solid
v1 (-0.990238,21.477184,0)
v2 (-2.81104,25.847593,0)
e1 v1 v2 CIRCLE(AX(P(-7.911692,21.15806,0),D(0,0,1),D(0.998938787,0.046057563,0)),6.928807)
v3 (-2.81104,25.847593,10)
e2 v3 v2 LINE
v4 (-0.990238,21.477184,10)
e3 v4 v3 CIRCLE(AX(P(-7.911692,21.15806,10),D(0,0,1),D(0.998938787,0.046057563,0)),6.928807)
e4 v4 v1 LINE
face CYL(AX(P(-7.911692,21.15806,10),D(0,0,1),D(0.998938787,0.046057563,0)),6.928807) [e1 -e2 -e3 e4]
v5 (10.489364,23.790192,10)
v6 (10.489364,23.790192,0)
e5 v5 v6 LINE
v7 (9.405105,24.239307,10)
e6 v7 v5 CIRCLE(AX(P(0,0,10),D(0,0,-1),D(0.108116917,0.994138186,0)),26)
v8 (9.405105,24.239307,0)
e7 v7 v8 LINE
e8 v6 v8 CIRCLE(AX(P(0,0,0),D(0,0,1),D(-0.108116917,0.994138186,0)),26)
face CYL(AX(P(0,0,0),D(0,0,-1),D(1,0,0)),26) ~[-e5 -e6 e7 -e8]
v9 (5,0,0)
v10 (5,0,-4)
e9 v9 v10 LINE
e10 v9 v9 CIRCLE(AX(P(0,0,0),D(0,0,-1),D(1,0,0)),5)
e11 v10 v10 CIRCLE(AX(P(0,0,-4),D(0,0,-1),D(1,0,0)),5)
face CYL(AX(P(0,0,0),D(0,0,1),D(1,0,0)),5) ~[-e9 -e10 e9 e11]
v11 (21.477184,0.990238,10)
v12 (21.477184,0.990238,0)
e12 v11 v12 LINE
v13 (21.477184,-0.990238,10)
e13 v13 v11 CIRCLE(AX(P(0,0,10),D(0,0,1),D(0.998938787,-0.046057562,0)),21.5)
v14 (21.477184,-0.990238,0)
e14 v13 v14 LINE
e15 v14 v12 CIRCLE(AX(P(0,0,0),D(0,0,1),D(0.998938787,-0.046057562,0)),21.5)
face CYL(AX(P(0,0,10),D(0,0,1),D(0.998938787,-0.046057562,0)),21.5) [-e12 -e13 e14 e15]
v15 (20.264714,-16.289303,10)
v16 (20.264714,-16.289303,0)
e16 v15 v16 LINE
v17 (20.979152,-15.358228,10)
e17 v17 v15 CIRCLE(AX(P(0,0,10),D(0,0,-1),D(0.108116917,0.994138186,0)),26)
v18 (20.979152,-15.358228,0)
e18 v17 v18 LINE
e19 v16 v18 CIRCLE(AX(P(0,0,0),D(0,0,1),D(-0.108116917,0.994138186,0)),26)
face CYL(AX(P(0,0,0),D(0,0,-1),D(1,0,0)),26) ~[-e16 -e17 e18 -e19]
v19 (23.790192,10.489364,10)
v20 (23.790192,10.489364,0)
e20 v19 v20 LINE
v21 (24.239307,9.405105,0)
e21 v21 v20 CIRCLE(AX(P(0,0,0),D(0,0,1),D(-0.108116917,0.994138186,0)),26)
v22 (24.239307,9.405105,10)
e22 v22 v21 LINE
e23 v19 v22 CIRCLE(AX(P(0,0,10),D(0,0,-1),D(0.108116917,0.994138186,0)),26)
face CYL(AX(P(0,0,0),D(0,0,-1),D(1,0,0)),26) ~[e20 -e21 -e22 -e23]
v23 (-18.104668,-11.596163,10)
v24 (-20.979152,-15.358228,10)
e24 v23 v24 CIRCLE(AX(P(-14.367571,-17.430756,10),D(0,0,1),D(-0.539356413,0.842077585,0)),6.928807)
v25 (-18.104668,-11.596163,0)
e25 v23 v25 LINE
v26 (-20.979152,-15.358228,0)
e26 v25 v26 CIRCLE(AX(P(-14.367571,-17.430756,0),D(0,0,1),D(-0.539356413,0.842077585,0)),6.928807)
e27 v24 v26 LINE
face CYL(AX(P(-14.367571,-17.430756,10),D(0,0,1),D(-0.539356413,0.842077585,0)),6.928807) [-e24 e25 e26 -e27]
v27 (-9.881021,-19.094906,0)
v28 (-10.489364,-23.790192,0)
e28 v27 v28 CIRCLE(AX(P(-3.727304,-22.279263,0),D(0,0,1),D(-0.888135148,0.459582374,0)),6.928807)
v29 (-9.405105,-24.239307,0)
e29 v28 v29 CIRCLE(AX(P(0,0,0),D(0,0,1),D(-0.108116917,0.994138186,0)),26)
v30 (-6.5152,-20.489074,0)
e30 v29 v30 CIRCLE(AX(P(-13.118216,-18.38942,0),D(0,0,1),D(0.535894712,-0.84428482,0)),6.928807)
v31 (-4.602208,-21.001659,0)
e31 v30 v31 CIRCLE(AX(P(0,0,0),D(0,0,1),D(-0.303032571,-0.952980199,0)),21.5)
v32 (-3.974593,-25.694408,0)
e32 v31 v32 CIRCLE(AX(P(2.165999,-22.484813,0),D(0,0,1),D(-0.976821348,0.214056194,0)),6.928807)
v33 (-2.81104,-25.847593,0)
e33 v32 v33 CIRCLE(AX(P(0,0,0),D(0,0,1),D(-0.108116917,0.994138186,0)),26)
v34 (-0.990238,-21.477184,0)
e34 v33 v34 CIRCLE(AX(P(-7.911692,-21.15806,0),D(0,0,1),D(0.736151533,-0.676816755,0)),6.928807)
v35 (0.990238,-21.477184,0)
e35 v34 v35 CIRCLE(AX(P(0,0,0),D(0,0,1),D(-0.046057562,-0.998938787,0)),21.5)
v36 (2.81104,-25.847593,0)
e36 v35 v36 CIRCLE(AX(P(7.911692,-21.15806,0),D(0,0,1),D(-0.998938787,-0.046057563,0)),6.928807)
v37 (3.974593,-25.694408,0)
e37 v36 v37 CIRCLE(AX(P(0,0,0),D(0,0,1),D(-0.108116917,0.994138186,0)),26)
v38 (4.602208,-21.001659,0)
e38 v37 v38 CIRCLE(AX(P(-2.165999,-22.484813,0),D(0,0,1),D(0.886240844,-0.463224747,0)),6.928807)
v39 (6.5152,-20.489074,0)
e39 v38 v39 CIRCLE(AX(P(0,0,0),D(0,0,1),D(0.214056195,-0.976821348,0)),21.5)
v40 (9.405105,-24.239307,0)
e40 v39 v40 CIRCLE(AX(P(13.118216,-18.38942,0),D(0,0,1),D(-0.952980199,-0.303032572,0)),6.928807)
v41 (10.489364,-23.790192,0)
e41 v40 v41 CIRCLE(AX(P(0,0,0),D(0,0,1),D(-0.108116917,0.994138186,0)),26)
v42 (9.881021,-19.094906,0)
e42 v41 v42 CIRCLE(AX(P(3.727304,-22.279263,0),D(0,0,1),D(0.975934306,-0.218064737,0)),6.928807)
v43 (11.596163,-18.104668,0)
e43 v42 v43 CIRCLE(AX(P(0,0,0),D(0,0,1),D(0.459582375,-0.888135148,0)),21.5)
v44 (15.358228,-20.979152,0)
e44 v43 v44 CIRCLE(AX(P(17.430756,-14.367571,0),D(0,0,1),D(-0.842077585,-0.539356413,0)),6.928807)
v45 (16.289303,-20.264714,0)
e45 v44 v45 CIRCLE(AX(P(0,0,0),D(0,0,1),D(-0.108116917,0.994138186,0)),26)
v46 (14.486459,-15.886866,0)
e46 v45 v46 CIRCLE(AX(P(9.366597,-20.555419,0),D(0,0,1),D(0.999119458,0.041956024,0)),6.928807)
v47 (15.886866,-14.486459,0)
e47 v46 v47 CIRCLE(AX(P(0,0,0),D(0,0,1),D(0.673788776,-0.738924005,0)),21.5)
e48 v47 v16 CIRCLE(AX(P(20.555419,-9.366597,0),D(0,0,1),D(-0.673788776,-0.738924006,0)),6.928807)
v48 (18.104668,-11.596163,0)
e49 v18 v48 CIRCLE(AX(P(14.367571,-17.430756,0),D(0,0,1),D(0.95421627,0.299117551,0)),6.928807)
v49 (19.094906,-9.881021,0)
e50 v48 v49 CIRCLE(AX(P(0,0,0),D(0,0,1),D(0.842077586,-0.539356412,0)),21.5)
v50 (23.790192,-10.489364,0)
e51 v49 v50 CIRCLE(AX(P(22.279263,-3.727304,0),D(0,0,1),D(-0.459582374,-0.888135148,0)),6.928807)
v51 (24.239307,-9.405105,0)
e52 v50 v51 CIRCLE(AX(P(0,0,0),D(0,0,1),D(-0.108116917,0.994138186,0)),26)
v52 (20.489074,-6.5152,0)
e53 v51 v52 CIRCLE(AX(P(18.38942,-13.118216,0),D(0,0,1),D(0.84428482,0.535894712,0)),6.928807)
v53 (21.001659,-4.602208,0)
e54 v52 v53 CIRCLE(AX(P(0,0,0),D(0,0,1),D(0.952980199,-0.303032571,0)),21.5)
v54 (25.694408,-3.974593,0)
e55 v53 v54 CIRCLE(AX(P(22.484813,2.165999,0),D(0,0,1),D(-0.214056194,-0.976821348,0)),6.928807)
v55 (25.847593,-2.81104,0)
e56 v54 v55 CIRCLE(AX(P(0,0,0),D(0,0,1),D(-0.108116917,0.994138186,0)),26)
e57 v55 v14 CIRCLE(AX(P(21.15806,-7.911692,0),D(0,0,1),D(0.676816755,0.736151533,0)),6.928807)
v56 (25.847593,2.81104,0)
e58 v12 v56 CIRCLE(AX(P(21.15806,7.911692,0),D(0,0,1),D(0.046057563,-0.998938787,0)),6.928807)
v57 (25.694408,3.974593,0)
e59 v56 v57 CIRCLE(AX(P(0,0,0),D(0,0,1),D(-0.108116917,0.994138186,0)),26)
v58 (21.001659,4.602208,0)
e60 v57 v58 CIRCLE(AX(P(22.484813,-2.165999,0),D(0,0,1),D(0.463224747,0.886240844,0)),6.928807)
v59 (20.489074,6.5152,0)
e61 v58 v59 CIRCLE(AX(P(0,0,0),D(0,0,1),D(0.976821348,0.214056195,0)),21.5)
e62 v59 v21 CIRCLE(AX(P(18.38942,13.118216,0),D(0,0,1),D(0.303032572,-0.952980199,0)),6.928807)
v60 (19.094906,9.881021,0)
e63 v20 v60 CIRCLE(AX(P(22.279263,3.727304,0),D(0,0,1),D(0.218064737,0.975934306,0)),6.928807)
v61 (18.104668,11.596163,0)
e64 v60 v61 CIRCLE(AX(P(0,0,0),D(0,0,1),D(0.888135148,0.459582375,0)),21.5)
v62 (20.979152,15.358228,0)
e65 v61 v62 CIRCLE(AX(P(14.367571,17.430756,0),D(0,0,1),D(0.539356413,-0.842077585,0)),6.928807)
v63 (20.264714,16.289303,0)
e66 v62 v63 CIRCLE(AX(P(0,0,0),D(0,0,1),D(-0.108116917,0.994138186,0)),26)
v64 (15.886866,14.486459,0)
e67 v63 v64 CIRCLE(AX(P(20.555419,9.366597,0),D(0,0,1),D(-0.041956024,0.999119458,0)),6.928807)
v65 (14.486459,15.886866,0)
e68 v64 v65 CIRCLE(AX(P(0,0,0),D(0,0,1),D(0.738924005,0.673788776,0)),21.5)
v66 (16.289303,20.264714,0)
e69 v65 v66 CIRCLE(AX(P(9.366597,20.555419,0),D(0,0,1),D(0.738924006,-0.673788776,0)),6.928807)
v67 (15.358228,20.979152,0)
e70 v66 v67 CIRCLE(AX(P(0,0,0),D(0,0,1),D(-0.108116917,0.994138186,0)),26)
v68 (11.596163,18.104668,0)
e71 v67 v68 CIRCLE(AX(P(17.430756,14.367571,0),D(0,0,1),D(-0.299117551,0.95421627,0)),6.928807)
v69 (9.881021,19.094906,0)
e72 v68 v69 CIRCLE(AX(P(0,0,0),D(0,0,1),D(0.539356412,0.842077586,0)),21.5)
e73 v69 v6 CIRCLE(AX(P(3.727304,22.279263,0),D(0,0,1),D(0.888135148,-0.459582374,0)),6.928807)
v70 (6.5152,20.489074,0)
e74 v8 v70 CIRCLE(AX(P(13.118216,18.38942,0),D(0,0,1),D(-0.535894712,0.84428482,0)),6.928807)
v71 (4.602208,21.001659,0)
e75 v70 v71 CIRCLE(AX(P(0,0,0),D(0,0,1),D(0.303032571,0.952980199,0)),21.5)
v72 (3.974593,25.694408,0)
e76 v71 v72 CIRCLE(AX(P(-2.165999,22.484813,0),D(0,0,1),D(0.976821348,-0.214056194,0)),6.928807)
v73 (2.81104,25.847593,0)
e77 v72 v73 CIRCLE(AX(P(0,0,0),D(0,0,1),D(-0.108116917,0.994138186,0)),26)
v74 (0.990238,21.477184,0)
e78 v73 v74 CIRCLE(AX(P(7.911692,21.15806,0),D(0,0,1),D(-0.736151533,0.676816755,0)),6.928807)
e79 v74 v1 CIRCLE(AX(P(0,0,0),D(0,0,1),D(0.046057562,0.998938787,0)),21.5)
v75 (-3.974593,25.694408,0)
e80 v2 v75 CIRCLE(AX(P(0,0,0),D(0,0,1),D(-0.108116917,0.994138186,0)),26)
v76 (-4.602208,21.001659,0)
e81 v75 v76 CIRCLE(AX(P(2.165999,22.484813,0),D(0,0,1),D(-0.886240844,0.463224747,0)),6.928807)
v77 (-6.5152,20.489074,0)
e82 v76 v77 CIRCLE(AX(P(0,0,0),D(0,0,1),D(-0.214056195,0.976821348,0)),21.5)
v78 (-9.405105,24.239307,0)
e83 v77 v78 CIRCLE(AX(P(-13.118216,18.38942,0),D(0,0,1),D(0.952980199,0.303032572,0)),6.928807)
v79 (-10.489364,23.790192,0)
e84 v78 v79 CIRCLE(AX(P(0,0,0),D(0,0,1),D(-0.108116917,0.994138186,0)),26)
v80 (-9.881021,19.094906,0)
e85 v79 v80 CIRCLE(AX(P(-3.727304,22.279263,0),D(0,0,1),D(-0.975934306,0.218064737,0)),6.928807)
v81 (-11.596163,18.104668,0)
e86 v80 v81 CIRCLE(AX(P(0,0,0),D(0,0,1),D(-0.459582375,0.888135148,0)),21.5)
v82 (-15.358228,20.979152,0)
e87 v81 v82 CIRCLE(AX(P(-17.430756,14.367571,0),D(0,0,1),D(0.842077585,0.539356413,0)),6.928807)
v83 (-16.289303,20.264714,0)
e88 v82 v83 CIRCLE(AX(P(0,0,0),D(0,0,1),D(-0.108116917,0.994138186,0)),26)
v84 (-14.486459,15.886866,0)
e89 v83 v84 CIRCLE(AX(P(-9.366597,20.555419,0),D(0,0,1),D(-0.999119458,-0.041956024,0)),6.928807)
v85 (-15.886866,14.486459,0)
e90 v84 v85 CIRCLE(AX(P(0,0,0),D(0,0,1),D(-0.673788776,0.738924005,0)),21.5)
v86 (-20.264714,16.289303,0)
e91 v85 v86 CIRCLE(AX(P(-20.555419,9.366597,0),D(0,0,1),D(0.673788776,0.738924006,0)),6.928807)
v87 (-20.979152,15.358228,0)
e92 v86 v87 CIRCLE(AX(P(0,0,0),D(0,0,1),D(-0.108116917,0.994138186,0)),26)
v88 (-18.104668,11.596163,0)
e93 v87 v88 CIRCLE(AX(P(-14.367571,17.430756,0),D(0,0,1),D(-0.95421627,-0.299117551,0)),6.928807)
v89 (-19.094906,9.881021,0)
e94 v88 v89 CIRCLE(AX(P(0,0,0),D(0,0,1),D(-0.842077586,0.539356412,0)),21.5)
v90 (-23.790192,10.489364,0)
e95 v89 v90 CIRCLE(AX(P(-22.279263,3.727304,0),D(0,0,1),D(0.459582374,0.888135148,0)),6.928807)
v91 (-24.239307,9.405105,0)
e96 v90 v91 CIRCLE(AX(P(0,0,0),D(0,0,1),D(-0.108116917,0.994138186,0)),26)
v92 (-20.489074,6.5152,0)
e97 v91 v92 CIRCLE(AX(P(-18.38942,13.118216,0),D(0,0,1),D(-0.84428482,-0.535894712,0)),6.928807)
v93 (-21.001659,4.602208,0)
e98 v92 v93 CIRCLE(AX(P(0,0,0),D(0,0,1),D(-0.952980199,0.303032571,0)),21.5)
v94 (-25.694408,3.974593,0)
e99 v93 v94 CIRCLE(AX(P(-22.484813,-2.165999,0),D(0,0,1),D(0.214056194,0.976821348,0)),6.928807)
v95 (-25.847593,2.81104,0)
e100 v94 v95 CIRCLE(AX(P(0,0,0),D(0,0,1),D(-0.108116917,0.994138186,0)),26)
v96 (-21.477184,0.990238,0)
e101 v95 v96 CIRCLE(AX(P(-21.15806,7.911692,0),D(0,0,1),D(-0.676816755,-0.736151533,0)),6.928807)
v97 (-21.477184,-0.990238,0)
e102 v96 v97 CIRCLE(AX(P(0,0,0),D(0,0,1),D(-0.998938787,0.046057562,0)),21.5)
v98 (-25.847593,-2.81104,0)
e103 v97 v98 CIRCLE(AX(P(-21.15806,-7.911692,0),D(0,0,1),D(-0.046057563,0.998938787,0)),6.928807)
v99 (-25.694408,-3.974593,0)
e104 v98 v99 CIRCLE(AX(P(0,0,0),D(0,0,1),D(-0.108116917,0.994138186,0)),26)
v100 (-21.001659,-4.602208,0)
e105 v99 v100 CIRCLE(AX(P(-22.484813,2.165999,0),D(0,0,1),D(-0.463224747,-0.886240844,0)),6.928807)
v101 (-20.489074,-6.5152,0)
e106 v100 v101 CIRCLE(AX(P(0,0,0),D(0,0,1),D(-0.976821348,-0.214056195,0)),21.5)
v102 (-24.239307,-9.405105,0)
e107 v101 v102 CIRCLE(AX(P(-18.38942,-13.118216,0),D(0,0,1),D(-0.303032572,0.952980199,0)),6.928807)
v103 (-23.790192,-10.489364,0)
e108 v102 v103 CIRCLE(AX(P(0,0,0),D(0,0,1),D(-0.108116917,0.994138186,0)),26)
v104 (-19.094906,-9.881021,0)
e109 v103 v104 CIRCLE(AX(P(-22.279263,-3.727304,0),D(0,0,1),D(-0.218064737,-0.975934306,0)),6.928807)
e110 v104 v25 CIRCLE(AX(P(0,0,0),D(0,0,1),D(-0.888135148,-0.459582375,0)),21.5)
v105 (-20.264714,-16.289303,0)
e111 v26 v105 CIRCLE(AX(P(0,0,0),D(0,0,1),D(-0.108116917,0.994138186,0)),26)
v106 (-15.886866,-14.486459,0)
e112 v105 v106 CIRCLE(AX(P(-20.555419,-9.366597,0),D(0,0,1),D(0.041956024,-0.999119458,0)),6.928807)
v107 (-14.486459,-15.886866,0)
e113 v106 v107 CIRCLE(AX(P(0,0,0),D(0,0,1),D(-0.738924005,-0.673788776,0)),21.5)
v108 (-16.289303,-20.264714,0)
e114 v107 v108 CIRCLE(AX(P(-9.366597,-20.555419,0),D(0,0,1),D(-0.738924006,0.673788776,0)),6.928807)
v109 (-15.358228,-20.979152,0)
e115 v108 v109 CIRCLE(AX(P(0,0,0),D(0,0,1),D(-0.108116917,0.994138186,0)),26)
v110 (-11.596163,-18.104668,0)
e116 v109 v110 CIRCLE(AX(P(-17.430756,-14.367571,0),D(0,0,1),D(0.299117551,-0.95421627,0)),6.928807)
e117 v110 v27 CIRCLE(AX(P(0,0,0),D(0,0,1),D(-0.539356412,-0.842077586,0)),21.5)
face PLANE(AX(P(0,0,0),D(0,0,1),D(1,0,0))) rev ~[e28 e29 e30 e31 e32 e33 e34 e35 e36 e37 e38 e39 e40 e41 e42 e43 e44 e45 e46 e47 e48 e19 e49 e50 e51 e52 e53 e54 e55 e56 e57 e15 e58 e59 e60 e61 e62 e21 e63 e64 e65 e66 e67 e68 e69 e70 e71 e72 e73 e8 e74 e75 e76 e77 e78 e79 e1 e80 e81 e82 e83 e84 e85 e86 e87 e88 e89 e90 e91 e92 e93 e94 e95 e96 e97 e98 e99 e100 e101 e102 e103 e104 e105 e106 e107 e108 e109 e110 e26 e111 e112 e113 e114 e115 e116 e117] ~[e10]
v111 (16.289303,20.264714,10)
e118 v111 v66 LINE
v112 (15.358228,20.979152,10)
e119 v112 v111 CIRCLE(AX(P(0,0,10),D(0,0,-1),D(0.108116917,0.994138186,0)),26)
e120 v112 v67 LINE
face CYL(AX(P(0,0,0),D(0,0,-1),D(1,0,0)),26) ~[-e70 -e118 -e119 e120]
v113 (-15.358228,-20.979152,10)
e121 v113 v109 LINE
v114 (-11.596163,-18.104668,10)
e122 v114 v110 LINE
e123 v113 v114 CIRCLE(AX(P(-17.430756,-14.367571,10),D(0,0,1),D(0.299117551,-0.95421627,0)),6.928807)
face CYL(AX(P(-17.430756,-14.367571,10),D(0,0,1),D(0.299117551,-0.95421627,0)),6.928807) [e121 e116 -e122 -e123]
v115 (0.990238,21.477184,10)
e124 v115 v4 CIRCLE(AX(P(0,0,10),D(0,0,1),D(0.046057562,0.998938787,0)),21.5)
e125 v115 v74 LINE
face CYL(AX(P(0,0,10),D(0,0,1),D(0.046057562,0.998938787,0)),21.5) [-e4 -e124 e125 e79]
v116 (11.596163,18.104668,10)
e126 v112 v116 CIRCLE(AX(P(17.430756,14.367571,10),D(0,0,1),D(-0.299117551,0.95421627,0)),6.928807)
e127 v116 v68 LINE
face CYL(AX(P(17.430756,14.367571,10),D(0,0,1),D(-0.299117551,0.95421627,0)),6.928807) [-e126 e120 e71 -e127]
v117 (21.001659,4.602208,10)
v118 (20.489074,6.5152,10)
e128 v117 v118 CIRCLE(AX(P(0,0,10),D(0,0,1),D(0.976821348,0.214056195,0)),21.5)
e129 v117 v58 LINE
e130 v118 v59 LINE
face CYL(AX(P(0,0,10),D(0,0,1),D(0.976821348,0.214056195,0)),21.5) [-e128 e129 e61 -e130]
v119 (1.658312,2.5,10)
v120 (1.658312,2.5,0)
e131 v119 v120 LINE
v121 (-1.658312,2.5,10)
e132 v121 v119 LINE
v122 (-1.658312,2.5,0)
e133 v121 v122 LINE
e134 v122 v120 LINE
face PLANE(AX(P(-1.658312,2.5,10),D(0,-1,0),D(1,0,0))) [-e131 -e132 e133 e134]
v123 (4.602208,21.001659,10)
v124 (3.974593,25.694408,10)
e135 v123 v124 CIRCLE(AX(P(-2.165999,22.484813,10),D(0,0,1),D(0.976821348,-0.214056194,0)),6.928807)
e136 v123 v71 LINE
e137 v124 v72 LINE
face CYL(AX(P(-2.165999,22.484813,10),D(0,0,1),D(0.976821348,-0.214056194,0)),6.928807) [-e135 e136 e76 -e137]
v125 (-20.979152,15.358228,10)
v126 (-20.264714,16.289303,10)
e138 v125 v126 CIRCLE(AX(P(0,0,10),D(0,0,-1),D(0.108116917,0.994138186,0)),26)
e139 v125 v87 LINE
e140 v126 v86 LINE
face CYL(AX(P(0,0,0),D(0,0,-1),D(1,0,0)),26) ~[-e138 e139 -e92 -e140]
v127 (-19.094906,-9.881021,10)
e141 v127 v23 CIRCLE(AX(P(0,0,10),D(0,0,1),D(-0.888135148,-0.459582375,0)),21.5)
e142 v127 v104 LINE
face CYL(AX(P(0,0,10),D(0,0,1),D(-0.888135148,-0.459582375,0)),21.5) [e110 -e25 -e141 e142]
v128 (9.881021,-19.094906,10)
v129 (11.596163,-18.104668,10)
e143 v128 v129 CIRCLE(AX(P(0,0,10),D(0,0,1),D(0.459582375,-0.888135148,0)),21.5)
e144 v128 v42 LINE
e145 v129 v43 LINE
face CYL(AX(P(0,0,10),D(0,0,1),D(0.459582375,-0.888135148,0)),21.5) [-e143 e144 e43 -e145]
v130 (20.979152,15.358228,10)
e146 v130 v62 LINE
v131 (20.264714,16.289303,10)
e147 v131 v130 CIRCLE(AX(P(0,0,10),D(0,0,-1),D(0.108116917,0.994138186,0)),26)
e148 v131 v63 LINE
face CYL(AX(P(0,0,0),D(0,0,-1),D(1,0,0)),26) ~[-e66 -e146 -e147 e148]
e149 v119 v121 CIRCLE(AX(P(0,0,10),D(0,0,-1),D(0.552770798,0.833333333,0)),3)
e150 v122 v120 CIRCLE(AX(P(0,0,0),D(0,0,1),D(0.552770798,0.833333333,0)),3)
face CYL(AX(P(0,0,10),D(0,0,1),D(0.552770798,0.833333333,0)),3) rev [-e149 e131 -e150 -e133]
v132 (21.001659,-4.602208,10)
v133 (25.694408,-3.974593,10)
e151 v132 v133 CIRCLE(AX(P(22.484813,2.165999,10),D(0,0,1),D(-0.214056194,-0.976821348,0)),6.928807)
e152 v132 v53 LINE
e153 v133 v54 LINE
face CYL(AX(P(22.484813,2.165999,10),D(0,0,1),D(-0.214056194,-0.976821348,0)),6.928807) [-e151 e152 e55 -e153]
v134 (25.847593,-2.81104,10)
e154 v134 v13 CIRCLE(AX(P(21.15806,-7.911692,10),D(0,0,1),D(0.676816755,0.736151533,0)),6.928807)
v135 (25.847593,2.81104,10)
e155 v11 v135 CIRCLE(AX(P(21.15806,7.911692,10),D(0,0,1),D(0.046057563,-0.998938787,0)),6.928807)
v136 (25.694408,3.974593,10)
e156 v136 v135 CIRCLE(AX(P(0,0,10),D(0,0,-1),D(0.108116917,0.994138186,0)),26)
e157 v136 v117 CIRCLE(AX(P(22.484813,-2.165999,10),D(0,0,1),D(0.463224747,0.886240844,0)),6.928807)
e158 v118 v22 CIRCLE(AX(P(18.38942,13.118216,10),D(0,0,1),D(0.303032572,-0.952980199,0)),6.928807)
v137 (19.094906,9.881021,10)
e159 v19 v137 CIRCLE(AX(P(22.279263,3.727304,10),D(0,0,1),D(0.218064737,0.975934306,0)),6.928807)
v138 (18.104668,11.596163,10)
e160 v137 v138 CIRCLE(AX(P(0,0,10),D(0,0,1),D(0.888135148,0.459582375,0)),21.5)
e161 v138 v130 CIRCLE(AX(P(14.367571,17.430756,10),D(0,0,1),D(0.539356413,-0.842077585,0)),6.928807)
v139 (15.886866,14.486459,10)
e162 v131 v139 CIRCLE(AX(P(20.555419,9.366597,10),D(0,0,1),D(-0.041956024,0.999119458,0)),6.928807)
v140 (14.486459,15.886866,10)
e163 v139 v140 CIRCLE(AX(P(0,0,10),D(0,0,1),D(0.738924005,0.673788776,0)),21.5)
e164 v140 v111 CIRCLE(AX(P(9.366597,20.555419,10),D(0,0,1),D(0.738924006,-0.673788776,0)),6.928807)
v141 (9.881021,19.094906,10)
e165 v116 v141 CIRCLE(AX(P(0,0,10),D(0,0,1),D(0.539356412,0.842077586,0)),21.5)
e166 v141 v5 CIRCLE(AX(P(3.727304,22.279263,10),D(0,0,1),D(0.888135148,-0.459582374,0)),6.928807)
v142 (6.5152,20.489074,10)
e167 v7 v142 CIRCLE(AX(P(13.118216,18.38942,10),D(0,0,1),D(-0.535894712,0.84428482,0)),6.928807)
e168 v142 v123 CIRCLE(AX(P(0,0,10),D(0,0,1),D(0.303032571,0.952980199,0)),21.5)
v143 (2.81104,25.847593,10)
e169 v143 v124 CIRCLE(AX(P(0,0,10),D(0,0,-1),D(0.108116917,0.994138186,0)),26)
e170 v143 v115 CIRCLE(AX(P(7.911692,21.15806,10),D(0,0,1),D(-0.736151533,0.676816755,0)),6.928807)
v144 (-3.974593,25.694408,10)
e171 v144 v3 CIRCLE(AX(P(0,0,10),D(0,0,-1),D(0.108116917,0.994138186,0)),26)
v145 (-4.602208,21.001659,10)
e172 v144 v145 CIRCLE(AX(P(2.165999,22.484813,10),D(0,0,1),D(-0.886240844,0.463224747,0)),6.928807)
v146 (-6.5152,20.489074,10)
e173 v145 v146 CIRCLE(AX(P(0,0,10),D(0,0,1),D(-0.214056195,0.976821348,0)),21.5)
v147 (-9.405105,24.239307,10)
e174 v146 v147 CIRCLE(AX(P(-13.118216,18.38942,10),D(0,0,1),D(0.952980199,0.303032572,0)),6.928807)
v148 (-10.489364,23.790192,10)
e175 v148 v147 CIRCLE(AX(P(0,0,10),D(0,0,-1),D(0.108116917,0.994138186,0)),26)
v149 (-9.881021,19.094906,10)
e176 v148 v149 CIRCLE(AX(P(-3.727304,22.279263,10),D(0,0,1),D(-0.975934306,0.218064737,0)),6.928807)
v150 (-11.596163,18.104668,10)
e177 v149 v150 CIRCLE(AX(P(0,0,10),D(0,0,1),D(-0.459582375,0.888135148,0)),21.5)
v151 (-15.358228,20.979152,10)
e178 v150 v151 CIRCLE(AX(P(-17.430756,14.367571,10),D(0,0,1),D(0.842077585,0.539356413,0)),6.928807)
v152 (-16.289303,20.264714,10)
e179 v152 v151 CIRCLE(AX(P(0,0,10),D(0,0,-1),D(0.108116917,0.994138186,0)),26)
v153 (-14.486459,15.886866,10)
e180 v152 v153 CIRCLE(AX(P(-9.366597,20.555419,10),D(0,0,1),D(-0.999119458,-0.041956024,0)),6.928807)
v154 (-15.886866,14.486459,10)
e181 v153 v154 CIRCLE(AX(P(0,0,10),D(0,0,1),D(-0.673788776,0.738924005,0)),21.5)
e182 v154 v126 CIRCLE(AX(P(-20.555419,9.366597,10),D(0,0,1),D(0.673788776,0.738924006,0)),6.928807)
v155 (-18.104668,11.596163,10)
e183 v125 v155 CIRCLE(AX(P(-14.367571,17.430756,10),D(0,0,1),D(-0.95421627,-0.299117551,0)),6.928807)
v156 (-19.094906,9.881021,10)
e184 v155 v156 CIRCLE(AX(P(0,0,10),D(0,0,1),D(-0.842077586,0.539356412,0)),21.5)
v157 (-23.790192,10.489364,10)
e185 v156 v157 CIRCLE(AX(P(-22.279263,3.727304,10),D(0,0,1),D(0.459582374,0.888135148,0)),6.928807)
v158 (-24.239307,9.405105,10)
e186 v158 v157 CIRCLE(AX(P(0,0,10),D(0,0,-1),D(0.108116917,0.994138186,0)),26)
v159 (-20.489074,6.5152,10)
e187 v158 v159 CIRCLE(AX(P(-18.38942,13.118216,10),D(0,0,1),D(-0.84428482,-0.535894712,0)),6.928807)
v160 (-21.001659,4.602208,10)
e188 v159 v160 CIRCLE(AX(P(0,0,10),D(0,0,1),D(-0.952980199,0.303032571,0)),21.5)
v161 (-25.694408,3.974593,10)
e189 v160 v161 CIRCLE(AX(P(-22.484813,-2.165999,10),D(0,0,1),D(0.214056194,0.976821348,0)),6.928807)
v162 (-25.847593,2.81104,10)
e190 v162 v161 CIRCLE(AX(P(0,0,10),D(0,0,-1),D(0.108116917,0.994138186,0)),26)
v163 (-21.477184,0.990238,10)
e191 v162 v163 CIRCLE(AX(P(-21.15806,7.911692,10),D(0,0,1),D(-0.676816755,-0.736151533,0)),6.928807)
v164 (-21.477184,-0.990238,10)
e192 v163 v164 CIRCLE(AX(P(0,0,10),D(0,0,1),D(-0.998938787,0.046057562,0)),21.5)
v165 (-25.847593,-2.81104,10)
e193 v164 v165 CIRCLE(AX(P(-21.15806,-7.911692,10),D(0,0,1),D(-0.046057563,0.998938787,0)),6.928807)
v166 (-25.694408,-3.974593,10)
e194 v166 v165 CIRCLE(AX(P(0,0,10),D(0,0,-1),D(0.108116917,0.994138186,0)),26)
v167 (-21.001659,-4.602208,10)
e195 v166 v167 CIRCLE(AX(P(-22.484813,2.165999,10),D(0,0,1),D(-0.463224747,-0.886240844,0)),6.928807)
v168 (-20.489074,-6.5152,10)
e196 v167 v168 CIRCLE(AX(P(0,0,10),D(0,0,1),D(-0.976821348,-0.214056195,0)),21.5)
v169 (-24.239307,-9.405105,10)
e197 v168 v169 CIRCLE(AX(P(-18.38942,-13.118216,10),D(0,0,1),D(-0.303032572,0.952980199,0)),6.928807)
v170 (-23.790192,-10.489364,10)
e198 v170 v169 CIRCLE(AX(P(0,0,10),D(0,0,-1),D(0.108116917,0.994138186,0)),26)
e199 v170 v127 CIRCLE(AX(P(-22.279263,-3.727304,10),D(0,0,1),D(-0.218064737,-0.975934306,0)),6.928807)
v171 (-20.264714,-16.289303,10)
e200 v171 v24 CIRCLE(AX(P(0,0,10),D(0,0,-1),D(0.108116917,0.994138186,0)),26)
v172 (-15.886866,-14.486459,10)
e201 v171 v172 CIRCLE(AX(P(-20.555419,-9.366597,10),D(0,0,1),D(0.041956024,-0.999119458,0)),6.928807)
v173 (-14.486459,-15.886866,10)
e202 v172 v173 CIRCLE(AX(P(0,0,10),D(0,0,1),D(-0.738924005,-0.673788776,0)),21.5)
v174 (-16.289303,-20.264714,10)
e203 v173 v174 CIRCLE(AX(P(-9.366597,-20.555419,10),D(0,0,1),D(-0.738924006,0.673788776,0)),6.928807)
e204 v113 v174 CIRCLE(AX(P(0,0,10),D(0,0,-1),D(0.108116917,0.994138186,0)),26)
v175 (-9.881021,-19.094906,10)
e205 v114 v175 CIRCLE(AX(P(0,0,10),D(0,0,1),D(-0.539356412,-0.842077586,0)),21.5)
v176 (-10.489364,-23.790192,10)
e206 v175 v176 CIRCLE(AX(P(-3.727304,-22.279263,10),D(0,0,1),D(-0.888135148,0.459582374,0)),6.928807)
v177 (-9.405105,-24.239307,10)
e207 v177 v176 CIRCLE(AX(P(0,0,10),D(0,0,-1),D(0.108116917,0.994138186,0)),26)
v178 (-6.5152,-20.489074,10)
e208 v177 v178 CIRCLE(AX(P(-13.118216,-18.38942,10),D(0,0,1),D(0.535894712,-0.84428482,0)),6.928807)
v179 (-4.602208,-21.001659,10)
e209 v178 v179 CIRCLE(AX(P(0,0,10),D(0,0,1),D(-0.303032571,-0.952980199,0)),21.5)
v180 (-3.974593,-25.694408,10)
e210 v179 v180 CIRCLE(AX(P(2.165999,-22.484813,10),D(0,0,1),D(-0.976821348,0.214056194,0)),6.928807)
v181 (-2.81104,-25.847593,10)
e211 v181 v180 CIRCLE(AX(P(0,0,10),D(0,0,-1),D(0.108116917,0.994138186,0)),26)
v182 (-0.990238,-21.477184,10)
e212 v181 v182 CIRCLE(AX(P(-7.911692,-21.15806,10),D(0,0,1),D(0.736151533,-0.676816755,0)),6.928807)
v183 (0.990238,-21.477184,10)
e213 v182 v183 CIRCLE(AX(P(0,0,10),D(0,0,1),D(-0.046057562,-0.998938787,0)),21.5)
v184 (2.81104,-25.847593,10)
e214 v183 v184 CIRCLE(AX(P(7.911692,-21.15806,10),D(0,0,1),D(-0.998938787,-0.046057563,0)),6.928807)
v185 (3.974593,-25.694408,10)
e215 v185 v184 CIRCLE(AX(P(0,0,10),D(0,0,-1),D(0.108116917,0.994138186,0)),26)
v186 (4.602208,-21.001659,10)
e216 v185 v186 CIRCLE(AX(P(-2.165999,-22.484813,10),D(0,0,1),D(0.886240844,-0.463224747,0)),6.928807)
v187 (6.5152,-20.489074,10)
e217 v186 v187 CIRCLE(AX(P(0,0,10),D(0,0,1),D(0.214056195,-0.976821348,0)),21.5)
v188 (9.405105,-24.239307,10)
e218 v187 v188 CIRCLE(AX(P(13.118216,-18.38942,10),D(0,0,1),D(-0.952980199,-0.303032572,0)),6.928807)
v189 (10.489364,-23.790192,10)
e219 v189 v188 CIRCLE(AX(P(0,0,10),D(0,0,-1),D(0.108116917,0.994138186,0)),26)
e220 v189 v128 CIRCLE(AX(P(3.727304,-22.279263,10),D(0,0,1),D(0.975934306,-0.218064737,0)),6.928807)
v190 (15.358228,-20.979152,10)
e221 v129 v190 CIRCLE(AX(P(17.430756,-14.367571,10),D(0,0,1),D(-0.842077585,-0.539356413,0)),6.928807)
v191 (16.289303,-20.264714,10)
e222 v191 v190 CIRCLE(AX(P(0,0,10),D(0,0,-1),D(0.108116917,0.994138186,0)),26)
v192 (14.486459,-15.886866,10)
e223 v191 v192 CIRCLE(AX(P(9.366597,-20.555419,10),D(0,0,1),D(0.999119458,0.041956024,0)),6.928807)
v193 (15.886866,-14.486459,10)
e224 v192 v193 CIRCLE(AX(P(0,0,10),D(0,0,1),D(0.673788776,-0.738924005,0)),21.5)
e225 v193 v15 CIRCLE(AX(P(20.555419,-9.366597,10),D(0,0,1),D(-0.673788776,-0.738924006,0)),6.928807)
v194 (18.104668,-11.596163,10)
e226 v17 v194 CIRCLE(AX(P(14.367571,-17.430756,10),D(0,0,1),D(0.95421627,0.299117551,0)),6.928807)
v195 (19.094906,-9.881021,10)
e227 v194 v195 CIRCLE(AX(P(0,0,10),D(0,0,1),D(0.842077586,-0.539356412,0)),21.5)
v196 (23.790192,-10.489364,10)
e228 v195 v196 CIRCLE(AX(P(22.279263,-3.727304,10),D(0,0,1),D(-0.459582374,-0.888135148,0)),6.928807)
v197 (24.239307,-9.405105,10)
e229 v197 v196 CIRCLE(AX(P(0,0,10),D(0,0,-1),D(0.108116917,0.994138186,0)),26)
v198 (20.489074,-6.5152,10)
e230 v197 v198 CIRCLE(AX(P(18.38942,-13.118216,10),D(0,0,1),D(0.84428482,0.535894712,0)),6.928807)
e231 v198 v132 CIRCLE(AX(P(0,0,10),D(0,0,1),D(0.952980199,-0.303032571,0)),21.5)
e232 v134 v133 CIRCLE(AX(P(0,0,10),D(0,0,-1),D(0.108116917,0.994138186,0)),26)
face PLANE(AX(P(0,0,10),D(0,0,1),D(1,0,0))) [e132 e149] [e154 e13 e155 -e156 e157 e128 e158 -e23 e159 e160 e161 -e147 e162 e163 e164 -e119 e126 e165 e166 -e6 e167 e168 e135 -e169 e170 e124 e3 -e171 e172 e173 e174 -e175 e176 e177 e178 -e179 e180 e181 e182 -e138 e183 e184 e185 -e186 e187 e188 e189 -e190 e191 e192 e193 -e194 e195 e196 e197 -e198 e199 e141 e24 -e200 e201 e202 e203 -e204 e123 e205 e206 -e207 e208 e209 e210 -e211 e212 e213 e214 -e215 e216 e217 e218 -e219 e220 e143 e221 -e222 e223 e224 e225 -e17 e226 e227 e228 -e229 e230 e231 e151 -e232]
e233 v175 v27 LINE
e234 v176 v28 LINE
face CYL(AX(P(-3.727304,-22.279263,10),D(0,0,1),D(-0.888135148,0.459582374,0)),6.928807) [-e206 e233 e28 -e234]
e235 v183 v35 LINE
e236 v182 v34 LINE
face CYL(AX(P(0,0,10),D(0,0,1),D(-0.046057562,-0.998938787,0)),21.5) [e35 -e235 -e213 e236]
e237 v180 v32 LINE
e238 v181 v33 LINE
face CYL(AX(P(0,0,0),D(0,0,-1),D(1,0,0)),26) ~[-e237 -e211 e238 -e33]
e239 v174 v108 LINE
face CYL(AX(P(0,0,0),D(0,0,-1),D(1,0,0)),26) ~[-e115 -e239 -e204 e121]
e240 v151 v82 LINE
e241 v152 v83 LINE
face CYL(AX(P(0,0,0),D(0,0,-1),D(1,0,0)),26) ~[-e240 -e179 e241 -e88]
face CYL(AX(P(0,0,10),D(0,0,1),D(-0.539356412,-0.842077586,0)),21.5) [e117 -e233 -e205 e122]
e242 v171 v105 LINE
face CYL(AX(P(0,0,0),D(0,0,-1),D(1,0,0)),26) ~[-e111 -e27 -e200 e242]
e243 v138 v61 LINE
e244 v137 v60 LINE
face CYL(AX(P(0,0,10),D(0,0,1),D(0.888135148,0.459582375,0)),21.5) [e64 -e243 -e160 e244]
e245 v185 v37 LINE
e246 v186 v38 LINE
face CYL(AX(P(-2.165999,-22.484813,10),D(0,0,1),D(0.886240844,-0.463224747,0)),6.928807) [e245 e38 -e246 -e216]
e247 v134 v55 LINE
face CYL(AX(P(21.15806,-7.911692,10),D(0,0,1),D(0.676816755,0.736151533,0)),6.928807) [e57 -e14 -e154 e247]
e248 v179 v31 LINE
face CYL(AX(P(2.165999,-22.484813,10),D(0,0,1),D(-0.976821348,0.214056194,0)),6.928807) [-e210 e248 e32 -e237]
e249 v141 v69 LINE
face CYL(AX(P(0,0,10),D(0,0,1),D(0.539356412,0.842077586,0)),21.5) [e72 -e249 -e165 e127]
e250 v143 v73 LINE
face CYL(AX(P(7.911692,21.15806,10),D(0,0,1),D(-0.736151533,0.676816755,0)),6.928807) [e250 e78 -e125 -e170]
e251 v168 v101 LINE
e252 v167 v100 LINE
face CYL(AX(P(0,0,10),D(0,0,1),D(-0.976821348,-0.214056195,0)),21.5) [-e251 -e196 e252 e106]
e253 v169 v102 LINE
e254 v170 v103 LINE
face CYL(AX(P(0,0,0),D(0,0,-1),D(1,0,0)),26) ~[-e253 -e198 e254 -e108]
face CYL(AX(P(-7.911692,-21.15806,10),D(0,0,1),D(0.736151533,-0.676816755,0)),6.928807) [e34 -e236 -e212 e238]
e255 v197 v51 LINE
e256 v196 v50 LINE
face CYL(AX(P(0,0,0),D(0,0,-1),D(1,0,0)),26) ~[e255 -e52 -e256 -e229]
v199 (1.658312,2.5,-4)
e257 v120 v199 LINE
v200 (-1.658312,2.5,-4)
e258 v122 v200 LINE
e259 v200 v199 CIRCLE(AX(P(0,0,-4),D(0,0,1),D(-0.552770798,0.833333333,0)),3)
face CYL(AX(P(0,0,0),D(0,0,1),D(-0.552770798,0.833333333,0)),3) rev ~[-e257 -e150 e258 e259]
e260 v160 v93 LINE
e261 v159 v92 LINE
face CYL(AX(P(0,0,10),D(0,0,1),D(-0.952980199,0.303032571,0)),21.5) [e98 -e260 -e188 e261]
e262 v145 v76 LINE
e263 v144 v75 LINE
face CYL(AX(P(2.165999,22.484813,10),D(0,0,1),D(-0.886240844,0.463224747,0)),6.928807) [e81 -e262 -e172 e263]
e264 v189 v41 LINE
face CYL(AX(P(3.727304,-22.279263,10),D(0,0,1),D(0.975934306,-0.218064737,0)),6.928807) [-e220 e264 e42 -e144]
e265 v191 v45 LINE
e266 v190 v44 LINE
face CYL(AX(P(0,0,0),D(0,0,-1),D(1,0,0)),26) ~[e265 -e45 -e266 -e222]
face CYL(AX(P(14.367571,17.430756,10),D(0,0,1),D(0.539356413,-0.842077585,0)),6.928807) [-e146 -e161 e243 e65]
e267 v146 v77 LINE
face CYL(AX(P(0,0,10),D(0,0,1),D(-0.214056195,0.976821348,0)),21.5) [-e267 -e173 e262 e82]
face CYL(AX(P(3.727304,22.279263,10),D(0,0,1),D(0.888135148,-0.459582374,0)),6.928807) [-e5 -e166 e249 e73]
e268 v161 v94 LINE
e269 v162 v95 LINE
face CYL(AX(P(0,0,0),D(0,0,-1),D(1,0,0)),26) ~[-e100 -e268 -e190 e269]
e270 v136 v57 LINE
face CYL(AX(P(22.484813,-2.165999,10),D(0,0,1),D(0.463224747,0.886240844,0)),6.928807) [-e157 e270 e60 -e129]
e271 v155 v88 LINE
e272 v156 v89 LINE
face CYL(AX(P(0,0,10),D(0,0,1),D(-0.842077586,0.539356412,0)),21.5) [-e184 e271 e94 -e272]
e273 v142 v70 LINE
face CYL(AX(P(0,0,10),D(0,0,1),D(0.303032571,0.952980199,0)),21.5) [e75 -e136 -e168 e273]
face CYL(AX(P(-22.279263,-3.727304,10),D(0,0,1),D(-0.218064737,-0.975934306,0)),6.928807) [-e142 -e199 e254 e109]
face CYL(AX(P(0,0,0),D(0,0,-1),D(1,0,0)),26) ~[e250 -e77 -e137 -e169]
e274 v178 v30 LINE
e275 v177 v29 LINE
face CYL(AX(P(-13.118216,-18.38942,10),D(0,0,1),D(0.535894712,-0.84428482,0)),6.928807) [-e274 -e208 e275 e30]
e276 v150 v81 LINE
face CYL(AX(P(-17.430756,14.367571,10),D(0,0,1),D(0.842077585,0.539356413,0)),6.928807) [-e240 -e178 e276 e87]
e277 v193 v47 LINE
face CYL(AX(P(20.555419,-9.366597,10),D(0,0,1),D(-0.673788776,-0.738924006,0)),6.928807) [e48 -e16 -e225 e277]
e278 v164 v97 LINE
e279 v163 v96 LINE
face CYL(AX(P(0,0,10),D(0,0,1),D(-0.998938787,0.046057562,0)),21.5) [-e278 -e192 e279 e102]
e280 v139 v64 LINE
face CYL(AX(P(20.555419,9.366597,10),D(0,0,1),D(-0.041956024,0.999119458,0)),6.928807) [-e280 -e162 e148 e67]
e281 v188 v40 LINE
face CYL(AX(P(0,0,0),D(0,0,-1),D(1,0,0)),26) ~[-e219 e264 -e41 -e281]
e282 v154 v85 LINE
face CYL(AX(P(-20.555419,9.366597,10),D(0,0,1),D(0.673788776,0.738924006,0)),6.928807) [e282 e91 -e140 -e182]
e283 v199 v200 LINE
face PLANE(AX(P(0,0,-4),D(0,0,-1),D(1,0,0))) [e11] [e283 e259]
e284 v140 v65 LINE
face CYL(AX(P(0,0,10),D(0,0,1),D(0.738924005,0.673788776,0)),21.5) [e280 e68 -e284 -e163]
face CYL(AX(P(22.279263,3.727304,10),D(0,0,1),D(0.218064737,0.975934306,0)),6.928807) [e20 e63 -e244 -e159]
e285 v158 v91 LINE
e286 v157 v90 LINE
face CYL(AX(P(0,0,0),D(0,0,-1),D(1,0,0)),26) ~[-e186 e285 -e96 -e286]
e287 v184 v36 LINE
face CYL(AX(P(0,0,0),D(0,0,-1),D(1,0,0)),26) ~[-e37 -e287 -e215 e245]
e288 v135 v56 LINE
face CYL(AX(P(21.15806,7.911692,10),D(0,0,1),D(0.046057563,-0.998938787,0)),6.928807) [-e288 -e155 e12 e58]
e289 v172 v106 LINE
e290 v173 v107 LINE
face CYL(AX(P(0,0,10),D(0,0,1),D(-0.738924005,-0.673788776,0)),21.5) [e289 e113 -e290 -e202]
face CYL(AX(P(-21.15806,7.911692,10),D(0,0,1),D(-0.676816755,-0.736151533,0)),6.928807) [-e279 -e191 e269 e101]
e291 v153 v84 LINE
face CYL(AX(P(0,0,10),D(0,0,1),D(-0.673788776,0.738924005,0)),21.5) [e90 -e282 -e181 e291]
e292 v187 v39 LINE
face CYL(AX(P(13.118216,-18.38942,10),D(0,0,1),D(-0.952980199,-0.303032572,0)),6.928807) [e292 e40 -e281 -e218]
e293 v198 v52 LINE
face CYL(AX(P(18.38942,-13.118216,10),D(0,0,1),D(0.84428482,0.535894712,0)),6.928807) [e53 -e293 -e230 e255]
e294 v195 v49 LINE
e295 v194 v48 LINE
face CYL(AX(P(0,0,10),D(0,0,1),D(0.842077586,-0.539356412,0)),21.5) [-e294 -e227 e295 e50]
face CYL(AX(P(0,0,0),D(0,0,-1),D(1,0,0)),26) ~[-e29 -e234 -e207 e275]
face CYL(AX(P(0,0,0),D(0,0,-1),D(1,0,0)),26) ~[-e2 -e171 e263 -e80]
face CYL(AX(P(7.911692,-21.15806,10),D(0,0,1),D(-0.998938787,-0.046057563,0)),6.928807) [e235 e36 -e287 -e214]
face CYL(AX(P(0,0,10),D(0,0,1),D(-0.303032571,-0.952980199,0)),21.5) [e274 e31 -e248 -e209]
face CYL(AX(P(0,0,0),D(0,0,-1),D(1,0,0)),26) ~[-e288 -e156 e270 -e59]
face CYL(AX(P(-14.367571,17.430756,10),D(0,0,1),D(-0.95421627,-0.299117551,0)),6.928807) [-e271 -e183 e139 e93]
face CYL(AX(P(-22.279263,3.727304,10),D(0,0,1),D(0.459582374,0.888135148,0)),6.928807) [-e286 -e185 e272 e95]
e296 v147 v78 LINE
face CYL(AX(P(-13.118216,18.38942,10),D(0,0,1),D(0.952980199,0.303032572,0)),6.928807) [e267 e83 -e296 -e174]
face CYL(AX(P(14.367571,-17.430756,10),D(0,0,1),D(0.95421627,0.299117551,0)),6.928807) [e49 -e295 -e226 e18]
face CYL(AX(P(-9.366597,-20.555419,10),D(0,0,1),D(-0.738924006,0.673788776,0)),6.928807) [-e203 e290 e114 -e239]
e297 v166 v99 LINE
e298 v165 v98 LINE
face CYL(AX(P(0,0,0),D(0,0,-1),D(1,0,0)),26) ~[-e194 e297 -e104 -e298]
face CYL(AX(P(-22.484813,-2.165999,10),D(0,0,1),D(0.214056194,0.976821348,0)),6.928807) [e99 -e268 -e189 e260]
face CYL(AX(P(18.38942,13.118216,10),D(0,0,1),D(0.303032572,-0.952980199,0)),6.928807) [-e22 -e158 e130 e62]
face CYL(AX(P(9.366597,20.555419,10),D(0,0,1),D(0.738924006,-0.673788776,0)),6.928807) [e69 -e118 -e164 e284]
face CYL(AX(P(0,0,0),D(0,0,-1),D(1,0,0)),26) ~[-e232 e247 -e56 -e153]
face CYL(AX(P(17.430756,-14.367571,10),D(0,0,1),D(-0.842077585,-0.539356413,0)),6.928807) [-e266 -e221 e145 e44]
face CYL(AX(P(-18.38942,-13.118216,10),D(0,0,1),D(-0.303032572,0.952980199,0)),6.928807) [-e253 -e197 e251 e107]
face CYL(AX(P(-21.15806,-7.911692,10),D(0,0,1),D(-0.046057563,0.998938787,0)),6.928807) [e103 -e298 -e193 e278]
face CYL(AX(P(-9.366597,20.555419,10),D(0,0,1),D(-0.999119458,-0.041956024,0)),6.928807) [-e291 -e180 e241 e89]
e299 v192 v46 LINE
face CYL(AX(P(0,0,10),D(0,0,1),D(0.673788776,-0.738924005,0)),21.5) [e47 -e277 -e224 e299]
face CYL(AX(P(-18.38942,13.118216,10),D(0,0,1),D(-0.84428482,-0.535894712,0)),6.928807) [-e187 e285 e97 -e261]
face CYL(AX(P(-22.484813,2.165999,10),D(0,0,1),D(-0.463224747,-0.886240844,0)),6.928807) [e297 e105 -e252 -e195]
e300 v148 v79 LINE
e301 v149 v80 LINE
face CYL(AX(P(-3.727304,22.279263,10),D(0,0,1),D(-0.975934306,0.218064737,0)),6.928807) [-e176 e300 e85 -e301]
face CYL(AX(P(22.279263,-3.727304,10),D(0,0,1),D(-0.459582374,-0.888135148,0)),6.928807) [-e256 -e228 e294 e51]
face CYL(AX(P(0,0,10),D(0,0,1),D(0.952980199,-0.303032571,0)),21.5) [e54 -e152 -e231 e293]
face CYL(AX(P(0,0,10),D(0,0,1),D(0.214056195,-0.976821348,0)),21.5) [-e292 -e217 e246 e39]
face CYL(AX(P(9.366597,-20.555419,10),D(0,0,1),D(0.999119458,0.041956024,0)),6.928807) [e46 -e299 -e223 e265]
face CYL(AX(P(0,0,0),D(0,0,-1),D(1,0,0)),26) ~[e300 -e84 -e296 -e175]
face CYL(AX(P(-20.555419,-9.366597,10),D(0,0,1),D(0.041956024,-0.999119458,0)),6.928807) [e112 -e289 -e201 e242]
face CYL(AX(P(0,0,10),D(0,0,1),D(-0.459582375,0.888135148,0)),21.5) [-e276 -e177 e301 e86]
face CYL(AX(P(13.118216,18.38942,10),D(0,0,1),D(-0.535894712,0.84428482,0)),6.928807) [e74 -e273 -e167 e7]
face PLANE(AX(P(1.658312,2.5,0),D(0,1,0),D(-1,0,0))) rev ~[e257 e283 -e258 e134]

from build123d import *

# Parameters (mm, degrees)
SKETCH6_R           = 26
BOSS_EXTRUDE1_DEPTH = 10
CUT_EXTRUDE3_DEPTH  = 39.105117767
CIRPATTERN2_COUNT   = 24
CUT_EXTRUDE4_DEPTH  = 38.897178127
SKETCH9_R           = 5
BOSS_EXTRUDE2_DEPTH = 4


with BuildPart() as part:
    # Sketch6 → Boss-Extrude1 (new body)
    with BuildSketch(Plane.XY):
        Circle(SKETCH6_R)
    extrude(amount=BOSS_EXTRUDE1_DEPTH)

    # Sketch7 → Cut-Extrude3 (cut, through all)
    with BuildSketch(Plane.XY.offset(10)):
        with BuildLine():
            ThreePointArc((-0.990237597, 21.477183929), (-1.515765167, 23.822734617), (-2.811039843, 25.847592828))
            ThreePointArc((-2.811039843, 25.847592828), (0, 26), (2.811039843, 25.847592828))
            ThreePointArc((2.811039843, 25.847592828), (1.515765167, 23.822734617), (0.990237597, 21.477183929))
            ThreePointArc((0.990237597, 21.477183929), (0, 21.5), (-0.990237597, 21.477183929))
        make_face()
    cut_extrude3 = extrude(amount=-CUT_EXTRUDE3_DEPTH, mode=Mode.SUBTRACT)

    # CirPattern2: Cut-Extrude3 ×24 about axis
    cirpattern2_axis = Axis((0, 0, 0), (0, 0, 1))
    for i in range(1, CIRPATTERN2_COUNT):
        add(cut_extrude3.rotate(cirpattern2_axis, i * 360 / CIRPATTERN2_COUNT), mode=Mode.SUBTRACT)

    # Sketch8 → Cut-Extrude4 (cut, through all)
    with BuildSketch(Plane.XY.offset(10)):
        with BuildLine():
            Line((-1.658312395, 2.5), (1.658312395, 2.5))
            ThreePointArc((1.658312395, 2.5), (0, -3), (-1.658312395, 2.5))
        make_face()
    extrude(amount=-CUT_EXTRUDE4_DEPTH, mode=Mode.SUBTRACT)

    # Sketch9 → Boss-Extrude2 (add)
    with BuildSketch(Plane(origin=(0, 0, 0), x_dir=(-1, 0, 0), z_dir=(0, 0, -1))):
        with Locations(Location((0, 0, 0), (0, 0, 180))):
            Circle(SKETCH9_R)
        with BuildLine():
            Line((-1.658312395, 2.5), (1.658312395, 2.5))
            ThreePointArc((1.658312395, 2.5), (0, -3), (-1.658312395, 2.5))
        make_face(mode=Mode.SUBTRACT)
    extrude(amount=BOSS_EXTRUDE2_DEPTH)


solid = part.part
